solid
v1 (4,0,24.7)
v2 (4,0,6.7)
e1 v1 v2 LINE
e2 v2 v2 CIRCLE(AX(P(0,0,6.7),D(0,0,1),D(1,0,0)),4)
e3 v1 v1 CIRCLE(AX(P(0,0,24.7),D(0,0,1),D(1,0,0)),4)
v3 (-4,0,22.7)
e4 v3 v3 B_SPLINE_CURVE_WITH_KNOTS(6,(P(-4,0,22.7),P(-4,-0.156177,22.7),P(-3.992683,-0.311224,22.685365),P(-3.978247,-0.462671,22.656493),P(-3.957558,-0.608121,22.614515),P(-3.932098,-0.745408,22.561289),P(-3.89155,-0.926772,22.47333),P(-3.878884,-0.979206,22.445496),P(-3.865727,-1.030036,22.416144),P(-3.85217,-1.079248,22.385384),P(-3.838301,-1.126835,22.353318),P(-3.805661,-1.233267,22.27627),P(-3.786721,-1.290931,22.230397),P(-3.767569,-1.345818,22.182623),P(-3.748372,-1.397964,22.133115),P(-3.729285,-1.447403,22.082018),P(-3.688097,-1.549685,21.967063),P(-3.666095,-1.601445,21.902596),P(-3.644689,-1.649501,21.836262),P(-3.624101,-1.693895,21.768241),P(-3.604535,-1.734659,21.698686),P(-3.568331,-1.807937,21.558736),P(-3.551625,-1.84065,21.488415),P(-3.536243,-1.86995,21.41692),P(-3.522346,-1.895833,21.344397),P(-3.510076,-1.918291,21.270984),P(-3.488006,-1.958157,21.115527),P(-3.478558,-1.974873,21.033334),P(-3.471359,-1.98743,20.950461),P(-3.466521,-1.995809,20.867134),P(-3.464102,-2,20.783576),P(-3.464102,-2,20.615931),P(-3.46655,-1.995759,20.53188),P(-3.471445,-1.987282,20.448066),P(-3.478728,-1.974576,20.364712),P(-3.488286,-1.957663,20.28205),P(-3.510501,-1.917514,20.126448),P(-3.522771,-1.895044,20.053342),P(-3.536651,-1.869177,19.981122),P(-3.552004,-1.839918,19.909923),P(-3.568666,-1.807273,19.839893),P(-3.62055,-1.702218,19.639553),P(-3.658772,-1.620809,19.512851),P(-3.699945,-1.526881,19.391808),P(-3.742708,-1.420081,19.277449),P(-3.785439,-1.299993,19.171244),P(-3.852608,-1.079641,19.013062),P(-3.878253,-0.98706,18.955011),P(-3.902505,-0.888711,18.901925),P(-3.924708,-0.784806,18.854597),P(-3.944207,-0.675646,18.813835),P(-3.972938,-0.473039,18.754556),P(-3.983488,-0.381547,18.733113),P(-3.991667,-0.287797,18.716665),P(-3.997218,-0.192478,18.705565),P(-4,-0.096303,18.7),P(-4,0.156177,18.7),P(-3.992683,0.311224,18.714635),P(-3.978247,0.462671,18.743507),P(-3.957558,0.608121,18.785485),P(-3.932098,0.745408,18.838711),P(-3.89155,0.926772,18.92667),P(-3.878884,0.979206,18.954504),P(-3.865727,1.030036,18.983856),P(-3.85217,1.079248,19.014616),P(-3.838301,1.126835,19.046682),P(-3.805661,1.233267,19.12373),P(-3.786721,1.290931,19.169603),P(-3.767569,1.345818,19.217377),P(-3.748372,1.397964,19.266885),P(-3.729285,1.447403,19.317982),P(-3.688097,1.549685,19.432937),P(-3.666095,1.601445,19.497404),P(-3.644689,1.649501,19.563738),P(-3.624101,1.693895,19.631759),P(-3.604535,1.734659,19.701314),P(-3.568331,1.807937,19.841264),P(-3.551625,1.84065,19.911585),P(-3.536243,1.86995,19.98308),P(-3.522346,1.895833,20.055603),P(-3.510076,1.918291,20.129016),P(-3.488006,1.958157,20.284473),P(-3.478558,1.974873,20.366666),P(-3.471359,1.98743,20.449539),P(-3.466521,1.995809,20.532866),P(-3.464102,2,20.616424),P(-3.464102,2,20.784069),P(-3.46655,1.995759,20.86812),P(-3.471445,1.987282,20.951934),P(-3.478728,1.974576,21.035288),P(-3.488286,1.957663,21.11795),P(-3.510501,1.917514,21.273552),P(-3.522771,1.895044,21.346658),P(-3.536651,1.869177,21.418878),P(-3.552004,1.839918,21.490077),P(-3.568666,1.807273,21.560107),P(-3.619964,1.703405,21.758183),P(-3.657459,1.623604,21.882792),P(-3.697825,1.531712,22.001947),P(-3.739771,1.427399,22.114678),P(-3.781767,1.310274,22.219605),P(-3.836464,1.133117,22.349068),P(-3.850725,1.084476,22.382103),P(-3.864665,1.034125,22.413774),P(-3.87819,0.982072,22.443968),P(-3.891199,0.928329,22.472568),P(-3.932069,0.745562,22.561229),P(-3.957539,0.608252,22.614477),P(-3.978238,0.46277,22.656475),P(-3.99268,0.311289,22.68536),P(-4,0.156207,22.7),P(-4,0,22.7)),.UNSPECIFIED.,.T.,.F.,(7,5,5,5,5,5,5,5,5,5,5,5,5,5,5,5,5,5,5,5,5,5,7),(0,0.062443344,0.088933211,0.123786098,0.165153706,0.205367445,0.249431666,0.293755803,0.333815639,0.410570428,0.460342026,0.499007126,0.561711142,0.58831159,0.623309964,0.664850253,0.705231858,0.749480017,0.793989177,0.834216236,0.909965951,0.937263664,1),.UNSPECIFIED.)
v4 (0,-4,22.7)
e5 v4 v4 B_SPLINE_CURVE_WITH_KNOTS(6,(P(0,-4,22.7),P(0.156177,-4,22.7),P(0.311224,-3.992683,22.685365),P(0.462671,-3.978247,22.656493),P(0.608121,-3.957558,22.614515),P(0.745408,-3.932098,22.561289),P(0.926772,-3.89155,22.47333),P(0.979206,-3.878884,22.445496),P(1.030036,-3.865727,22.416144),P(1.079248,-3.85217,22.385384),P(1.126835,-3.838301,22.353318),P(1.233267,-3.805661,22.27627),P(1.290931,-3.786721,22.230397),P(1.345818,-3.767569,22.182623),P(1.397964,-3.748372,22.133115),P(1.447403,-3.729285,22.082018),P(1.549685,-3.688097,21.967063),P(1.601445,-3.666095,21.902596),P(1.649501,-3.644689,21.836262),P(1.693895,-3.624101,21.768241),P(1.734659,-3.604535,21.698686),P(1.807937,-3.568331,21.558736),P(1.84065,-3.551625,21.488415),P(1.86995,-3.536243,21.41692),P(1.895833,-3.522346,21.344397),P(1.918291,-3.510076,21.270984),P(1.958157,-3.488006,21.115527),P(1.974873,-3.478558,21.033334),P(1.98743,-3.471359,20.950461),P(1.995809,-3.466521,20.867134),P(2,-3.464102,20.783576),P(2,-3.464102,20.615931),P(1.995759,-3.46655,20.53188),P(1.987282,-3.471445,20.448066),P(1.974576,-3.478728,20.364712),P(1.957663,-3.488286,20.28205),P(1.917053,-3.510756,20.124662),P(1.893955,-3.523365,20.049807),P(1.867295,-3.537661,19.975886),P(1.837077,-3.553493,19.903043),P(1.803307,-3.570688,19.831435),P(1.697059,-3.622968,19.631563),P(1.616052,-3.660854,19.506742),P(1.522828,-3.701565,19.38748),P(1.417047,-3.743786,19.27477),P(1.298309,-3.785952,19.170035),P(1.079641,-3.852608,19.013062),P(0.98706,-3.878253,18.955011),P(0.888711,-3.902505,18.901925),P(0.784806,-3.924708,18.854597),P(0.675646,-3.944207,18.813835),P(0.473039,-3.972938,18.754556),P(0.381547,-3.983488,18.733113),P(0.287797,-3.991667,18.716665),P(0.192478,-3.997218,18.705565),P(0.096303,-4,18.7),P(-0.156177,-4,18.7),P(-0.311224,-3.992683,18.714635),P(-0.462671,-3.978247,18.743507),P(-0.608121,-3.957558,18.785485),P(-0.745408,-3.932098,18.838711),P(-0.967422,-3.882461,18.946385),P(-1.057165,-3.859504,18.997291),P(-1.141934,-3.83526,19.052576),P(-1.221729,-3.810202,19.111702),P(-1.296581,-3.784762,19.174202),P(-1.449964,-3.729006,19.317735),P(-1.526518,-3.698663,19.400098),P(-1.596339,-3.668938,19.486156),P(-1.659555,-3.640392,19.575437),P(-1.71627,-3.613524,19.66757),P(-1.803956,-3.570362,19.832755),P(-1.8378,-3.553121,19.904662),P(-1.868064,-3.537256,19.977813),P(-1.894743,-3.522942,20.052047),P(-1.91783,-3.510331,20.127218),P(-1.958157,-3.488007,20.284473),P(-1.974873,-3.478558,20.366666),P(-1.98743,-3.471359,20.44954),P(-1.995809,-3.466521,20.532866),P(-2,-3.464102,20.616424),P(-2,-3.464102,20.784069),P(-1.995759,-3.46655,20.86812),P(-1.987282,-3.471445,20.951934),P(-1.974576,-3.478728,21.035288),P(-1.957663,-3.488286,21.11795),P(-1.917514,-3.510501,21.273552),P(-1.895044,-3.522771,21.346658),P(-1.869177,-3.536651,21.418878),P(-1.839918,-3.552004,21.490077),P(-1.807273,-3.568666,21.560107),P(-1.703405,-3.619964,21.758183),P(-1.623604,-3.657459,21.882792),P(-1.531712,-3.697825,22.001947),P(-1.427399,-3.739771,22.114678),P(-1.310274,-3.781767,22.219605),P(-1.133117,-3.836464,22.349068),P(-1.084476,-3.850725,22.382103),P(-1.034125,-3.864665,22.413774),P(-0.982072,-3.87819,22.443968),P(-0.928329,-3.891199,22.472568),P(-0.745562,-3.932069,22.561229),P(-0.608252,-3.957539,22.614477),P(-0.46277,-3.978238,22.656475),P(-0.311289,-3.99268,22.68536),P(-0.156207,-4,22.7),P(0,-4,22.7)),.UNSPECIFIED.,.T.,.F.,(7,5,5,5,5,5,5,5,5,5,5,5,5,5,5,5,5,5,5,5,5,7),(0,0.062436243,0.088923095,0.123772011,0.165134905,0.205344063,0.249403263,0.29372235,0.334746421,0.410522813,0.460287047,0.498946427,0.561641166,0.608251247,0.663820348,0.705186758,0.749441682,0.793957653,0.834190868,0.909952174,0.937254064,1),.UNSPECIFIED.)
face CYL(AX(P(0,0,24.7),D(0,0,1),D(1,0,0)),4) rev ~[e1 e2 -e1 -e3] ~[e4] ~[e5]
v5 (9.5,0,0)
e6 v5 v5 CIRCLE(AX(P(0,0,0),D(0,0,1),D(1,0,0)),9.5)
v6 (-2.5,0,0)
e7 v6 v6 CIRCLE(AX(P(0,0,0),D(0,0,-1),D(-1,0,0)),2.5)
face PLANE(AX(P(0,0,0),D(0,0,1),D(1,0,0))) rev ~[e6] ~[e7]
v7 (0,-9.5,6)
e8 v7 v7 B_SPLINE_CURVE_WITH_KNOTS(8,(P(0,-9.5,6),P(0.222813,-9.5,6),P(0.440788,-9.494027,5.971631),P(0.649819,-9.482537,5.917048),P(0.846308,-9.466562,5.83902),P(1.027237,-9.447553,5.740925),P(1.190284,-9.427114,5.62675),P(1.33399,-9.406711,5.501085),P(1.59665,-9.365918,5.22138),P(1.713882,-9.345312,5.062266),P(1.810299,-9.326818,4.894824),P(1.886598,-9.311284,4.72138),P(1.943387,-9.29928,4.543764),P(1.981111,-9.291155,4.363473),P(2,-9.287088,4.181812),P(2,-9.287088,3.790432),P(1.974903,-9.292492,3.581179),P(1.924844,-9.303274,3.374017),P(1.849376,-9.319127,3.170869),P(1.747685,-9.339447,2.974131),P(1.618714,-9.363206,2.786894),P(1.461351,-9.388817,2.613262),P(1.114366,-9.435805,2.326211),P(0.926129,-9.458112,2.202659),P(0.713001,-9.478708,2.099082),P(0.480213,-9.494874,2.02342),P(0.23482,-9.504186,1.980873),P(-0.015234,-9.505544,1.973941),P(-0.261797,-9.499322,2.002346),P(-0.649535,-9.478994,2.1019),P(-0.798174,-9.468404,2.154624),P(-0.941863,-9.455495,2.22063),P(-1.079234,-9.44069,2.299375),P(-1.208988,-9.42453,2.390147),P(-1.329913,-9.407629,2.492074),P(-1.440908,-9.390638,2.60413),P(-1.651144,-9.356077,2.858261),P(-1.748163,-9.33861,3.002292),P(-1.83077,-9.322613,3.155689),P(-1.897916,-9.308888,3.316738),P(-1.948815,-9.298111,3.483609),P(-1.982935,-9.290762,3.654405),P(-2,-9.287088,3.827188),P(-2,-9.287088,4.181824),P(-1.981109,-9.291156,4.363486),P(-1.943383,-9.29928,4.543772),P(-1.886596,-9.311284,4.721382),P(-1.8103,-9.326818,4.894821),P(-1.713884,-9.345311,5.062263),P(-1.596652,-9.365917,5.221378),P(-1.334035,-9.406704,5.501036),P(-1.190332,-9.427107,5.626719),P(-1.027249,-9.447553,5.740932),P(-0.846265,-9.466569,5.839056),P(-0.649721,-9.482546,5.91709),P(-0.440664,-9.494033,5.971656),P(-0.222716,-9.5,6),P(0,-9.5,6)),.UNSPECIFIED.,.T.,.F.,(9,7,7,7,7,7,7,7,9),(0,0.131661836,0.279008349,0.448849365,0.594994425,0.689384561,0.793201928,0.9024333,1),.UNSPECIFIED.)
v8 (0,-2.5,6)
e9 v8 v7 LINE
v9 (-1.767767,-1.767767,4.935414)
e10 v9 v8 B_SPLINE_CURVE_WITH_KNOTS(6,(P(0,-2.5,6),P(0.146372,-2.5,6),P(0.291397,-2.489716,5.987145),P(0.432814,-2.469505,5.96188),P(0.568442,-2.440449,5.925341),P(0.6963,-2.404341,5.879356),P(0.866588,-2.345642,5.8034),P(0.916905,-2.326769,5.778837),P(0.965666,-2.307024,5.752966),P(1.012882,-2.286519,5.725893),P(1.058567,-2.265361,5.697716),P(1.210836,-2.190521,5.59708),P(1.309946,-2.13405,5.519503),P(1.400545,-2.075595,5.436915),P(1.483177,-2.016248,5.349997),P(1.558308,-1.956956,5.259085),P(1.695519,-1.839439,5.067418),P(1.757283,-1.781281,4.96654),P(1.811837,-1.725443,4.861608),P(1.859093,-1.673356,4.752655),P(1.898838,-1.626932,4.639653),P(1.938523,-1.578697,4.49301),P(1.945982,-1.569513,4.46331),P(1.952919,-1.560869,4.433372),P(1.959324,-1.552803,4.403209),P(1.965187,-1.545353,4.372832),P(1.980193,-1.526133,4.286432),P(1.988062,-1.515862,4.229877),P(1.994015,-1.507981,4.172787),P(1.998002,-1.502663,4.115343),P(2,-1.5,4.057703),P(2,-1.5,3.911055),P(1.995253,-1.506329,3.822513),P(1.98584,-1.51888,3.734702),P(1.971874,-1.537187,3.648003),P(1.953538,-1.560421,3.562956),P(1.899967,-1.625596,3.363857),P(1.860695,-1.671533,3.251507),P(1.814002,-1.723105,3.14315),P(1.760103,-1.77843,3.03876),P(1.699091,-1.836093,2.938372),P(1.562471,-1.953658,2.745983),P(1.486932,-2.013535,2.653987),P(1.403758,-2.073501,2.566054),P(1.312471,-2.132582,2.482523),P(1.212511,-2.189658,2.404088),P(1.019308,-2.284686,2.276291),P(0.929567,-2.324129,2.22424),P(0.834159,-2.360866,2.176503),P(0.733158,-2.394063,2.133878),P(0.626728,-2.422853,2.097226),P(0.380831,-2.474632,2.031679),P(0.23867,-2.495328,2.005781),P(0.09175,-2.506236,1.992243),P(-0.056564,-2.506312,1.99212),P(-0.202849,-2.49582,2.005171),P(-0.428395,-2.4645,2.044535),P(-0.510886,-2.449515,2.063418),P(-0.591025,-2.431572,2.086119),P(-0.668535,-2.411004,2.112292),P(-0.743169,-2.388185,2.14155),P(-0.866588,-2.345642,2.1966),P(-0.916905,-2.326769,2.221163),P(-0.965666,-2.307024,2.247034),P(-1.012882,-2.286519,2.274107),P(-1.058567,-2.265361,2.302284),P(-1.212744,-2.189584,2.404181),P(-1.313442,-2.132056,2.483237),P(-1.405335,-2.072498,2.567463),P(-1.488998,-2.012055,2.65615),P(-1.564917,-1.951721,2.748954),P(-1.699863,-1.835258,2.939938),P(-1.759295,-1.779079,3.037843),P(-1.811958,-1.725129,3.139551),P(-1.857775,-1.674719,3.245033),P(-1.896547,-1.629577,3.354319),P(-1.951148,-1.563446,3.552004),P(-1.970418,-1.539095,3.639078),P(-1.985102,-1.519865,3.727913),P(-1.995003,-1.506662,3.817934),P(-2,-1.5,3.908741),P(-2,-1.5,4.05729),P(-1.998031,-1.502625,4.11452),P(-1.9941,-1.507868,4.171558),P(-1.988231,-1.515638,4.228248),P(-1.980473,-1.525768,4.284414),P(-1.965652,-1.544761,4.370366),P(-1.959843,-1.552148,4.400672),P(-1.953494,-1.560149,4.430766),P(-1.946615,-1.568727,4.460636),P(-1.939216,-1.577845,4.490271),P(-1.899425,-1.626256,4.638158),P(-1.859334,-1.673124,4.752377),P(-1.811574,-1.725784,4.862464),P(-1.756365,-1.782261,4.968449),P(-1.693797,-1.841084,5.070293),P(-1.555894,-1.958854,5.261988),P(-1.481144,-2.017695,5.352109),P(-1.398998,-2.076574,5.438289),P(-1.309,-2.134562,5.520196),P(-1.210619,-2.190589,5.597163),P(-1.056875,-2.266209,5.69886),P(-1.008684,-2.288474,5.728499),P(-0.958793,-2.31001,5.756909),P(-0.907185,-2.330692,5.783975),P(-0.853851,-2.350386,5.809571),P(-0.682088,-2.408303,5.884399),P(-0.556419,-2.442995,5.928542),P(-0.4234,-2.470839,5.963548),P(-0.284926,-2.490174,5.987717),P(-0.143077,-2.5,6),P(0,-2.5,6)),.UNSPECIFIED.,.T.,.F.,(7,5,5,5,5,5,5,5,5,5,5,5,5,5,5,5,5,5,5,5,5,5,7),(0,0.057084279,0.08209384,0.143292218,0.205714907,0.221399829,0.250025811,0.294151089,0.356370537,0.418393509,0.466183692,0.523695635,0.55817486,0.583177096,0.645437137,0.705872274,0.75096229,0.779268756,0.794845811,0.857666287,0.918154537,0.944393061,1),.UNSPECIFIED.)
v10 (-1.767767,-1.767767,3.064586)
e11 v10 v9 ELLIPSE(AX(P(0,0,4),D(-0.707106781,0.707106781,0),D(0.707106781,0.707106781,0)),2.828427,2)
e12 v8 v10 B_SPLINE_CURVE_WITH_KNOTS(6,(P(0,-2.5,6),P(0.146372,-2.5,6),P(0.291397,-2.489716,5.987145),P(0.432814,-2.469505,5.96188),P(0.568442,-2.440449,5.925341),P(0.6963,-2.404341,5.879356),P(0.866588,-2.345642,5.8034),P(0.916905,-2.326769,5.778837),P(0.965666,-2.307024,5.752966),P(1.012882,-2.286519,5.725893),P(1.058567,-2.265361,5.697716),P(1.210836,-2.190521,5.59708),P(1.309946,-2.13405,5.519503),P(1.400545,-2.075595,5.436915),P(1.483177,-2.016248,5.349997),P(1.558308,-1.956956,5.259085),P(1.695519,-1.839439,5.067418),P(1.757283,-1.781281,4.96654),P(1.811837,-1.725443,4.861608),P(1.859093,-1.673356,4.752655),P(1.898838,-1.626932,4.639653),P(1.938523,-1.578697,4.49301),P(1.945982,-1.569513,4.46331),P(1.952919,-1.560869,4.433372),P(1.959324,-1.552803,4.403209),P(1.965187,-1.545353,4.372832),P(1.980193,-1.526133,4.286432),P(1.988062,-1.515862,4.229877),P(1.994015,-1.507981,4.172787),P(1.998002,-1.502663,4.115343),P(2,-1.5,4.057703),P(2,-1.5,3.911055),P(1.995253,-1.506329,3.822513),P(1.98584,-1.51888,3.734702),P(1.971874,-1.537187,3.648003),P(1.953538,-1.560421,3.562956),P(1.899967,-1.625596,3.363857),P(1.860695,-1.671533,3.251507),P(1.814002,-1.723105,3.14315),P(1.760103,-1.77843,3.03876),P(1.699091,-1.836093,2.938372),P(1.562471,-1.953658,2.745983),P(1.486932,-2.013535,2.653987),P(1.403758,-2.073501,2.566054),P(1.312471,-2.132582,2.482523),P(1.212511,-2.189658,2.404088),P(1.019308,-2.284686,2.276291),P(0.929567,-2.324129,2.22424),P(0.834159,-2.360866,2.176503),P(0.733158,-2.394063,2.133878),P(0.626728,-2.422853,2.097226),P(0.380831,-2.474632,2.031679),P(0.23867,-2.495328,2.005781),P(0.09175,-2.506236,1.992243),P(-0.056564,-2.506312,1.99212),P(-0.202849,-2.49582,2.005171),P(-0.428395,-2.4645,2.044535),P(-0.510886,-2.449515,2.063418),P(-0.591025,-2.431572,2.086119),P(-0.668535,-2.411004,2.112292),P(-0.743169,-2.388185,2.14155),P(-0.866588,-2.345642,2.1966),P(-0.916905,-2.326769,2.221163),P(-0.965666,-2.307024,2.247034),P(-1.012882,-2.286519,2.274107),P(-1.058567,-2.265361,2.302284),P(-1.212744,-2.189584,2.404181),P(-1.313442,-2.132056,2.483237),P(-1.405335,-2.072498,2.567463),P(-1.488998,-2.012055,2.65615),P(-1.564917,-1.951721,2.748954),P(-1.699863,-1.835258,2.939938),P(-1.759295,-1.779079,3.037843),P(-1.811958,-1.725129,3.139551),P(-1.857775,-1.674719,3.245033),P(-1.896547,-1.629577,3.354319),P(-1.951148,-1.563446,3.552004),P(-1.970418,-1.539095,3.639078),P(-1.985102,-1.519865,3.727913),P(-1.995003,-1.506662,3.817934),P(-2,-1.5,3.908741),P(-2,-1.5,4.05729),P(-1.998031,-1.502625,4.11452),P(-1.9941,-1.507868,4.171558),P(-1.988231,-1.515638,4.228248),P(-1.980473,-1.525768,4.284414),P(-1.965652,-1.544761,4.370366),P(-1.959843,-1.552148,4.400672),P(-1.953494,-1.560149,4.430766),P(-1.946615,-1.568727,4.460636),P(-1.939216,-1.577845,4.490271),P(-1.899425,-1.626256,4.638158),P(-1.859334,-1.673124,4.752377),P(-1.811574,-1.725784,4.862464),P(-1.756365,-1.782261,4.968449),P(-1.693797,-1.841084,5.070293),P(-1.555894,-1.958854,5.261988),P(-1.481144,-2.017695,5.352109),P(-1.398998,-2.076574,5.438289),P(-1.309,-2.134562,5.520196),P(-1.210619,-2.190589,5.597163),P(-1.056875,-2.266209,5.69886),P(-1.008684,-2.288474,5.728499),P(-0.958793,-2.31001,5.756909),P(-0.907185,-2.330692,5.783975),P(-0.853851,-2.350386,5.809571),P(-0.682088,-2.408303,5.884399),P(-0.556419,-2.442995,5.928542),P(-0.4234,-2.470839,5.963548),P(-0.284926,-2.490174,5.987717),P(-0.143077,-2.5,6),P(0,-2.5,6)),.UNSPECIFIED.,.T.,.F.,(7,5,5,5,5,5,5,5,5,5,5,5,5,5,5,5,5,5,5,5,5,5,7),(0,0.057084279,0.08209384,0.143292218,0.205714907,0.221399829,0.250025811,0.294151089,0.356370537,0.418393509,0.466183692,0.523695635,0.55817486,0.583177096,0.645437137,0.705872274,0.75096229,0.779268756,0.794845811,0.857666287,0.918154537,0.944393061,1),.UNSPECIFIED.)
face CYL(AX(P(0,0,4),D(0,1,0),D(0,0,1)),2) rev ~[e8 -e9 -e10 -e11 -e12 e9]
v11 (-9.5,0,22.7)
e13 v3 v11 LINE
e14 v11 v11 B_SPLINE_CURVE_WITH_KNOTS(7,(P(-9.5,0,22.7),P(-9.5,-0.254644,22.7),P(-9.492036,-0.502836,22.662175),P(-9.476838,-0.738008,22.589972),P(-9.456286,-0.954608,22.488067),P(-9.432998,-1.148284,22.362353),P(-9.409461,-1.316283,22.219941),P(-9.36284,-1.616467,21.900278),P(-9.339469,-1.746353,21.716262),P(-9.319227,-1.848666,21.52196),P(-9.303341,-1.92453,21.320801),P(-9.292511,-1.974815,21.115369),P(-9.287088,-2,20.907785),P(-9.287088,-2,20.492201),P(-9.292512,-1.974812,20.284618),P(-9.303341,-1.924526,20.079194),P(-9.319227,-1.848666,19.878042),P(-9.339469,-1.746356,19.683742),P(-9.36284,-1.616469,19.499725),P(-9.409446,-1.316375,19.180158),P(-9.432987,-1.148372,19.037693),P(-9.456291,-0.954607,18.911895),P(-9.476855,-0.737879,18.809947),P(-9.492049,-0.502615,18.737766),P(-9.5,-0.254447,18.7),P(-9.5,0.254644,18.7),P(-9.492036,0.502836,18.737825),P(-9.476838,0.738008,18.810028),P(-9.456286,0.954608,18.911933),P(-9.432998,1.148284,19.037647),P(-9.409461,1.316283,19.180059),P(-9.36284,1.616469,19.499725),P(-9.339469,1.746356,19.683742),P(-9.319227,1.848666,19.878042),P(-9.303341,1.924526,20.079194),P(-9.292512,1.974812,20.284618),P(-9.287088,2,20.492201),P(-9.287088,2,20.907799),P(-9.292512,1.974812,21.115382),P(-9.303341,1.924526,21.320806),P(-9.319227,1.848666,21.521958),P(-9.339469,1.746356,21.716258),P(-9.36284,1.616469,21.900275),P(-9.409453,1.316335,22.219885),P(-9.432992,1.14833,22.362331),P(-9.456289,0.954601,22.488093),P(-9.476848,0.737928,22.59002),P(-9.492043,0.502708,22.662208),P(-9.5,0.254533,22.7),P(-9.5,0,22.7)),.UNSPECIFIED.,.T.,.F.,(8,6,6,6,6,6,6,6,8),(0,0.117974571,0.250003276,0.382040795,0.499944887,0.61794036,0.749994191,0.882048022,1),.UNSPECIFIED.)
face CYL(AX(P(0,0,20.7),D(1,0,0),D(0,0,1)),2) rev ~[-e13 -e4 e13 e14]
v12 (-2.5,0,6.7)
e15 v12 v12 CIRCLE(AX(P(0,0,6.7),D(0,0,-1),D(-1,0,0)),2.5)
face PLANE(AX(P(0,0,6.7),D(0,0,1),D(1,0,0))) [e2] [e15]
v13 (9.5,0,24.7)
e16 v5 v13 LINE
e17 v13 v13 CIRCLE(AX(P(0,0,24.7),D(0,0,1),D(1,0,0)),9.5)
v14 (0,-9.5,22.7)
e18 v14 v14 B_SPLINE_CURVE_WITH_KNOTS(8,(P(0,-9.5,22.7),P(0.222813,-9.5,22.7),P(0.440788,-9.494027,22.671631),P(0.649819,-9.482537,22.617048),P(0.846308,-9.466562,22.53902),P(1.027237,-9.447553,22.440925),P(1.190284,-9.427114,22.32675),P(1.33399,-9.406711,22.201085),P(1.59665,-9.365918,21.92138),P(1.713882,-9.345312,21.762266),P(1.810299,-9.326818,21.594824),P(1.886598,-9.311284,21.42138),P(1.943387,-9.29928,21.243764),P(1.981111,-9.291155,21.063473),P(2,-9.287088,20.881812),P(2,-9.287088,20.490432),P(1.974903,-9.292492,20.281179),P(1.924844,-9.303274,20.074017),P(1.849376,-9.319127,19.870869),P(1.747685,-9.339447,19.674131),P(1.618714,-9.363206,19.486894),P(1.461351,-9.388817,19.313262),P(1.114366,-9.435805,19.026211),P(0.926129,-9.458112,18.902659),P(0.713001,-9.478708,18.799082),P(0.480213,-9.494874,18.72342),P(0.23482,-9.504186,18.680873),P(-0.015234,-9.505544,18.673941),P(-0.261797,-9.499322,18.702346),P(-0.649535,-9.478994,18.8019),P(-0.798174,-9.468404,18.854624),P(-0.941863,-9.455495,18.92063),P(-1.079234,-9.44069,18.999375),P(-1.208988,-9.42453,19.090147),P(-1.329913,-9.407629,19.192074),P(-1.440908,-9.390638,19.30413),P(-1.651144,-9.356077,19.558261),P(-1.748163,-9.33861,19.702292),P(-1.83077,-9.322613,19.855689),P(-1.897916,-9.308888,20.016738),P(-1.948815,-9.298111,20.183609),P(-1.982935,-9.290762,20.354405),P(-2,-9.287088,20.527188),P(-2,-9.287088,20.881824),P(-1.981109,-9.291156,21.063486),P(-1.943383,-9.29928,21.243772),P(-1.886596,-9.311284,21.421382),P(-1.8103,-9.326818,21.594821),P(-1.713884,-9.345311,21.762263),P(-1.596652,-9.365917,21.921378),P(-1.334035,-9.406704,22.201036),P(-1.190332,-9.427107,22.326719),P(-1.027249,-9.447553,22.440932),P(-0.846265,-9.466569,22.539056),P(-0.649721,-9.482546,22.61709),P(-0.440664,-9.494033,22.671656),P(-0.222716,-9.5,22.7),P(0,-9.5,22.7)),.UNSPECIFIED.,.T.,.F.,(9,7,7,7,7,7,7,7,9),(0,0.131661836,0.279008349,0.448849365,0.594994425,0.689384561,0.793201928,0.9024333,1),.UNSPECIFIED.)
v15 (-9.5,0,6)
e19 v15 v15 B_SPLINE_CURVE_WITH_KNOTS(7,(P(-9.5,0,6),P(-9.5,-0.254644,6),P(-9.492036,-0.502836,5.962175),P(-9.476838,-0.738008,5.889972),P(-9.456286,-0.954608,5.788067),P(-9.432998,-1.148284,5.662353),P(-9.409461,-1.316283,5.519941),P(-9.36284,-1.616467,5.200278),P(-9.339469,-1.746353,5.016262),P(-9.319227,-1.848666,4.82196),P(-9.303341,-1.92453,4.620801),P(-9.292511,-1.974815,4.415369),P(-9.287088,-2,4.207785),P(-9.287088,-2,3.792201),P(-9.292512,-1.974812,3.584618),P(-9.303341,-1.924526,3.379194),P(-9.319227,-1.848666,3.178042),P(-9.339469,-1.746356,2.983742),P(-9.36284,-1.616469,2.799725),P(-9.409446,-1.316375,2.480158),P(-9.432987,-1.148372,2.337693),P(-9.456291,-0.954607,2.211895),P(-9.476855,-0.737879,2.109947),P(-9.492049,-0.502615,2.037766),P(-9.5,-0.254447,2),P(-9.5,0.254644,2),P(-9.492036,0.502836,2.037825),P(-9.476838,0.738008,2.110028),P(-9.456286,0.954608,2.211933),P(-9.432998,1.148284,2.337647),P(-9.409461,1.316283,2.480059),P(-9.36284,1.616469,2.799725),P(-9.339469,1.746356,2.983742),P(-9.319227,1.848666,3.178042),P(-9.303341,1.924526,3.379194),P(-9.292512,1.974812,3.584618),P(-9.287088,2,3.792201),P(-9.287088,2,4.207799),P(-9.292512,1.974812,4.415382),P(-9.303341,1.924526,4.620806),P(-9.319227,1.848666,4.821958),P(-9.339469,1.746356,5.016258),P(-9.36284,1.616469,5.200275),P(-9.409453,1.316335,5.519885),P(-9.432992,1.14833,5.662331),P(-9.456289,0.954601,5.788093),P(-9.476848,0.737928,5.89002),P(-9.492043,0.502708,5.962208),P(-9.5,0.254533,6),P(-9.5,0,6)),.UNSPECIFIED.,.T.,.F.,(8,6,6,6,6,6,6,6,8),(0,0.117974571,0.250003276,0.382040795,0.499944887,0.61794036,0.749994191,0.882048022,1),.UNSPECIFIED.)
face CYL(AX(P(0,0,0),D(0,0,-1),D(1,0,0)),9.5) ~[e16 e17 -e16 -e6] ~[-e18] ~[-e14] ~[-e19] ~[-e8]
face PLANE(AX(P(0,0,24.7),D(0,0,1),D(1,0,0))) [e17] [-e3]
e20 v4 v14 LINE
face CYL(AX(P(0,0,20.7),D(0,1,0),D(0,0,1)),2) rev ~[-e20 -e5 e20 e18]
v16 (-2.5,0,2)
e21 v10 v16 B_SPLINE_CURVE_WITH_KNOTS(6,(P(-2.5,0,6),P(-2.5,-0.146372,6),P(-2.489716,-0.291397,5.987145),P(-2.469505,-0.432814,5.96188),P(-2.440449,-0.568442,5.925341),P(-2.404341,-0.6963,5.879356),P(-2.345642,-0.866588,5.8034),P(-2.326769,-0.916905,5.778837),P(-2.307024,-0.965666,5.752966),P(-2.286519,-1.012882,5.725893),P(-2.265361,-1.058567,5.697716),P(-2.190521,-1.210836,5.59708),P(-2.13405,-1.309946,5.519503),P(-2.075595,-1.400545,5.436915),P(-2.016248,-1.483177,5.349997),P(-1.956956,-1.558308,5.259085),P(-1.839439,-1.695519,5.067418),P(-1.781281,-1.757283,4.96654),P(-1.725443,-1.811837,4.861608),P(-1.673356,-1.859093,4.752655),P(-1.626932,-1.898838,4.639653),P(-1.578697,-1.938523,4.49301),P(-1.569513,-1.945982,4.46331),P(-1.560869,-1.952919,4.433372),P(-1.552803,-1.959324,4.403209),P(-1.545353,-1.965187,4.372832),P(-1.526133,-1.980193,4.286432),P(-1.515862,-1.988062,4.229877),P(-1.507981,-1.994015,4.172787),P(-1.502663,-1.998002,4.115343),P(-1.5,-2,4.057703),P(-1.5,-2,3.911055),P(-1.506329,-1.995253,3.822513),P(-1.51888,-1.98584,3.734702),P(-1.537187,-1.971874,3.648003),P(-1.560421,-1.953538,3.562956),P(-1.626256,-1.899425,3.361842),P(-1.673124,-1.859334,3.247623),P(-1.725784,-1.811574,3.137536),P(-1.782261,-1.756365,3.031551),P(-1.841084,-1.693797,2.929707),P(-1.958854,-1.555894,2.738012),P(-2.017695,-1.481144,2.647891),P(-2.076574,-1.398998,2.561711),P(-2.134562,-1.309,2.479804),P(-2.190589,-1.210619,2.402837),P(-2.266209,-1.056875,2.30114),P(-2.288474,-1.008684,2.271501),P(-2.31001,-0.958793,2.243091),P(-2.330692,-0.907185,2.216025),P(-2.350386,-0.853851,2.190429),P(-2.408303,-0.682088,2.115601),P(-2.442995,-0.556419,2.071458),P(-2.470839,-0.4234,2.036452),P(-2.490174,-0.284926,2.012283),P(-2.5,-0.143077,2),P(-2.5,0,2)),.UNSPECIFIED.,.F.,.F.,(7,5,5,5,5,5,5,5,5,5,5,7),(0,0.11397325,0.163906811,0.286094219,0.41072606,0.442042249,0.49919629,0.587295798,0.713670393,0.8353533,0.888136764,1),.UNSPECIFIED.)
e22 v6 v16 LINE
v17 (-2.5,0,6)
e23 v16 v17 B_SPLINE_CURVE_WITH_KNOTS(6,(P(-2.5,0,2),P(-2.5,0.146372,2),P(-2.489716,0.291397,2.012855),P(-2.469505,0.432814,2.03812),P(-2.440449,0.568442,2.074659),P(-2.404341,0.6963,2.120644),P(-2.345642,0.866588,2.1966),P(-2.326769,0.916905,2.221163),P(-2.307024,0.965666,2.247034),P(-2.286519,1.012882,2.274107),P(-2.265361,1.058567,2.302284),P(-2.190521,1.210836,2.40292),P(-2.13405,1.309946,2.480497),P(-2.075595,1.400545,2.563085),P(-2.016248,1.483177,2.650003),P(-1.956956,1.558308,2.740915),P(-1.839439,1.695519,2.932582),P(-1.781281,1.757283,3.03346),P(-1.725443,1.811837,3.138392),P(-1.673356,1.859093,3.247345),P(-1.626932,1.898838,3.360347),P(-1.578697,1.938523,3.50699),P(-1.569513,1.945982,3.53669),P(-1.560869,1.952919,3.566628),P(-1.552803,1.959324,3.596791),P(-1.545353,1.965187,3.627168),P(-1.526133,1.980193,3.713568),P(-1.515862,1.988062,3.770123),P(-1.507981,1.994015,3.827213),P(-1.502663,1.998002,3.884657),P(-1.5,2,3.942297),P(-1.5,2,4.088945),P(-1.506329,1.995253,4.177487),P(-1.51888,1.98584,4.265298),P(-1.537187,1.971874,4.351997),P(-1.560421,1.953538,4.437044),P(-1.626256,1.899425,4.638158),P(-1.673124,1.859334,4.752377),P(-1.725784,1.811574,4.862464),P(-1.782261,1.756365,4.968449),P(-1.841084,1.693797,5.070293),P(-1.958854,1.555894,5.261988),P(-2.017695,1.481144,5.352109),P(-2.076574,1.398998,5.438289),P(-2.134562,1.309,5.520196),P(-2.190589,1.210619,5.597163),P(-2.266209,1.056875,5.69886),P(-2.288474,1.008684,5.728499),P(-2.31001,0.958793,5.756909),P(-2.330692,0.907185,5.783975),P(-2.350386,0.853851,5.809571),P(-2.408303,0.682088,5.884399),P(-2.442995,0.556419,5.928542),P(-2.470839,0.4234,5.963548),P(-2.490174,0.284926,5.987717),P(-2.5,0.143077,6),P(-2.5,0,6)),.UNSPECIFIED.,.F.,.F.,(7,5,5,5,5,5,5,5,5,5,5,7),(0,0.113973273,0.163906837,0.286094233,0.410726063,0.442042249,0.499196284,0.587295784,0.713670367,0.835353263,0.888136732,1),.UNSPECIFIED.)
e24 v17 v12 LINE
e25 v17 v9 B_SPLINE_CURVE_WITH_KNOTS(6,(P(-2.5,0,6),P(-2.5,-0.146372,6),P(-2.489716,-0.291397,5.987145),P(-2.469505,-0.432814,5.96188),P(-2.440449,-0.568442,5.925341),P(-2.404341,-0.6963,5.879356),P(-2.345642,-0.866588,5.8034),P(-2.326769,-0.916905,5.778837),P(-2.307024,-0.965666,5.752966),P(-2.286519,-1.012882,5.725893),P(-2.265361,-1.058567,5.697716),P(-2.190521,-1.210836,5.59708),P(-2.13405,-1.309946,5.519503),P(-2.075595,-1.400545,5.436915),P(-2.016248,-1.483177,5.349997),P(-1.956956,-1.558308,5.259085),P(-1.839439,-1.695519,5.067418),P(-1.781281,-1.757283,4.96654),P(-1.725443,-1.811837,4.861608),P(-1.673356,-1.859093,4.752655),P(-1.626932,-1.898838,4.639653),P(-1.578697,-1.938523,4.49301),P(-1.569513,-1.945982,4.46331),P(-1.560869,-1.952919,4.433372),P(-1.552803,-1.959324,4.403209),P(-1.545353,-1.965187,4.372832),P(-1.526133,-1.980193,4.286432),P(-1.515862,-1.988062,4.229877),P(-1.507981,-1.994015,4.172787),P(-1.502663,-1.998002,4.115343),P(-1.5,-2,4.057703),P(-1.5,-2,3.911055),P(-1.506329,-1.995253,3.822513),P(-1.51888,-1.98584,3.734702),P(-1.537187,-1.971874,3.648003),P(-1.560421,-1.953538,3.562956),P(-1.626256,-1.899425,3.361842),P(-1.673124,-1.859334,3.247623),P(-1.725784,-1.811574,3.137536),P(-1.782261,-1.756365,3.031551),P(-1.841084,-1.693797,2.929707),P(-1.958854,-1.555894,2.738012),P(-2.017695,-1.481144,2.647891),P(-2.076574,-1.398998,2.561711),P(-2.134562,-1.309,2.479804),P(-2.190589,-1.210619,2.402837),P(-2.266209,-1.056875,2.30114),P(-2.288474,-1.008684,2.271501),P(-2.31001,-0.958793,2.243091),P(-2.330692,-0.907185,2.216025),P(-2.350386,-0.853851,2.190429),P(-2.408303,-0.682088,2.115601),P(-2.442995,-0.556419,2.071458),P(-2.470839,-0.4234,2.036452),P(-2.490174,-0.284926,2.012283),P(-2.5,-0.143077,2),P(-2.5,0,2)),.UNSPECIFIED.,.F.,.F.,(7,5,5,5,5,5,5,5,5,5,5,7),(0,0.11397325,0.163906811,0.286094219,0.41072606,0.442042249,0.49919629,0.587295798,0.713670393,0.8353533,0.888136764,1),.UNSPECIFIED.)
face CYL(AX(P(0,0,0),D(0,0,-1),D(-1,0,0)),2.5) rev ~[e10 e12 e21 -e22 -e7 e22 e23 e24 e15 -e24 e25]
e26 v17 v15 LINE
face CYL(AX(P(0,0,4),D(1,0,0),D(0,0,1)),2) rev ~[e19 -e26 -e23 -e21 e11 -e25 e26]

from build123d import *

# Parameters (mm, degrees)
ESQUISSE1_R                  = 9.5
BOSS_EXTRU_1_DEPTH           = 24.7
ESQUISSE2_R                  = 4
ENL_V_MAT_EXTRU_1_DEPTH      = 18
ESQUISSE3_R                  = 2.5
ENL_V_MAT_EXTRU_2_DEPTH      = 29.117432315
ESQUISSE4_R                  = 2
ENL_V_MAT_EXTRU_3_DEPTH      = 29.117432315
R_P_TITION_CIRCULAIRE1_COUNT = 2
R_P_TITION_CIRCULAIRE1_ANGLE = 90


with BuildPart() as part:
    # Esquisse1 → Boss.-Extru.1 (new body)
    with BuildSketch(Plane.XY):
        Circle(ESQUISSE1_R)
    extrude(amount=BOSS_EXTRU_1_DEPTH)

    # Esquisse2 → Enlèv. mat.-Extru.1 (cut)
    with BuildSketch(Plane.XY.offset(24.7)):
        Circle(ESQUISSE2_R)
    extrude(amount=-ENL_V_MAT_EXTRU_1_DEPTH, mode=Mode.SUBTRACT)

    # Esquisse3 → Enlèv. mat.-Extru.2 (cut, through all)
    with BuildSketch(Plane(origin=(0, 0, 0), x_dir=(-1, 0, 0), z_dir=(0, 0, -1))):
        Circle(ESQUISSE3_R)
    extrude(amount=-ENL_V_MAT_EXTRU_2_DEPTH, mode=Mode.SUBTRACT)

    # Esquisse4 → Enlèv. mat.-Extru.3 (cut, through all)
    with BuildSketch(Plane(origin=(0, 0, 0), x_dir=(1, 0, 0), z_dir=(0, 1, 0))):
        with Locations(Location((0, -4, 0), (0, 0, 270))):
            Circle(ESQUISSE4_R)
        with Locations(Location((0, -20.7, 0), (0, 0, 270))):
            Circle(ESQUISSE4_R)
    enl_v_mat_extru_3 = extrude(amount=-ENL_V_MAT_EXTRU_3_DEPTH, mode=Mode.SUBTRACT)

    # Répétition circulaire1: Enlèv. mat.-Extru.3 ×2 about axis
    r_p_tition_circulaire1_axis = Axis((0, 0, 6.7), (0, 0, -1))
    for i in range(1, R_P_TITION_CIRCULAIRE1_COUNT):
        add(enl_v_mat_extru_3.rotate(r_p_tition_circulaire1_axis, i * R_P_TITION_CIRCULAIRE1_ANGLE / (R_P_TITION_CIRCULAIRE1_COUNT - 1)), mode=Mode.SUBTRACT)


solid = part.part
